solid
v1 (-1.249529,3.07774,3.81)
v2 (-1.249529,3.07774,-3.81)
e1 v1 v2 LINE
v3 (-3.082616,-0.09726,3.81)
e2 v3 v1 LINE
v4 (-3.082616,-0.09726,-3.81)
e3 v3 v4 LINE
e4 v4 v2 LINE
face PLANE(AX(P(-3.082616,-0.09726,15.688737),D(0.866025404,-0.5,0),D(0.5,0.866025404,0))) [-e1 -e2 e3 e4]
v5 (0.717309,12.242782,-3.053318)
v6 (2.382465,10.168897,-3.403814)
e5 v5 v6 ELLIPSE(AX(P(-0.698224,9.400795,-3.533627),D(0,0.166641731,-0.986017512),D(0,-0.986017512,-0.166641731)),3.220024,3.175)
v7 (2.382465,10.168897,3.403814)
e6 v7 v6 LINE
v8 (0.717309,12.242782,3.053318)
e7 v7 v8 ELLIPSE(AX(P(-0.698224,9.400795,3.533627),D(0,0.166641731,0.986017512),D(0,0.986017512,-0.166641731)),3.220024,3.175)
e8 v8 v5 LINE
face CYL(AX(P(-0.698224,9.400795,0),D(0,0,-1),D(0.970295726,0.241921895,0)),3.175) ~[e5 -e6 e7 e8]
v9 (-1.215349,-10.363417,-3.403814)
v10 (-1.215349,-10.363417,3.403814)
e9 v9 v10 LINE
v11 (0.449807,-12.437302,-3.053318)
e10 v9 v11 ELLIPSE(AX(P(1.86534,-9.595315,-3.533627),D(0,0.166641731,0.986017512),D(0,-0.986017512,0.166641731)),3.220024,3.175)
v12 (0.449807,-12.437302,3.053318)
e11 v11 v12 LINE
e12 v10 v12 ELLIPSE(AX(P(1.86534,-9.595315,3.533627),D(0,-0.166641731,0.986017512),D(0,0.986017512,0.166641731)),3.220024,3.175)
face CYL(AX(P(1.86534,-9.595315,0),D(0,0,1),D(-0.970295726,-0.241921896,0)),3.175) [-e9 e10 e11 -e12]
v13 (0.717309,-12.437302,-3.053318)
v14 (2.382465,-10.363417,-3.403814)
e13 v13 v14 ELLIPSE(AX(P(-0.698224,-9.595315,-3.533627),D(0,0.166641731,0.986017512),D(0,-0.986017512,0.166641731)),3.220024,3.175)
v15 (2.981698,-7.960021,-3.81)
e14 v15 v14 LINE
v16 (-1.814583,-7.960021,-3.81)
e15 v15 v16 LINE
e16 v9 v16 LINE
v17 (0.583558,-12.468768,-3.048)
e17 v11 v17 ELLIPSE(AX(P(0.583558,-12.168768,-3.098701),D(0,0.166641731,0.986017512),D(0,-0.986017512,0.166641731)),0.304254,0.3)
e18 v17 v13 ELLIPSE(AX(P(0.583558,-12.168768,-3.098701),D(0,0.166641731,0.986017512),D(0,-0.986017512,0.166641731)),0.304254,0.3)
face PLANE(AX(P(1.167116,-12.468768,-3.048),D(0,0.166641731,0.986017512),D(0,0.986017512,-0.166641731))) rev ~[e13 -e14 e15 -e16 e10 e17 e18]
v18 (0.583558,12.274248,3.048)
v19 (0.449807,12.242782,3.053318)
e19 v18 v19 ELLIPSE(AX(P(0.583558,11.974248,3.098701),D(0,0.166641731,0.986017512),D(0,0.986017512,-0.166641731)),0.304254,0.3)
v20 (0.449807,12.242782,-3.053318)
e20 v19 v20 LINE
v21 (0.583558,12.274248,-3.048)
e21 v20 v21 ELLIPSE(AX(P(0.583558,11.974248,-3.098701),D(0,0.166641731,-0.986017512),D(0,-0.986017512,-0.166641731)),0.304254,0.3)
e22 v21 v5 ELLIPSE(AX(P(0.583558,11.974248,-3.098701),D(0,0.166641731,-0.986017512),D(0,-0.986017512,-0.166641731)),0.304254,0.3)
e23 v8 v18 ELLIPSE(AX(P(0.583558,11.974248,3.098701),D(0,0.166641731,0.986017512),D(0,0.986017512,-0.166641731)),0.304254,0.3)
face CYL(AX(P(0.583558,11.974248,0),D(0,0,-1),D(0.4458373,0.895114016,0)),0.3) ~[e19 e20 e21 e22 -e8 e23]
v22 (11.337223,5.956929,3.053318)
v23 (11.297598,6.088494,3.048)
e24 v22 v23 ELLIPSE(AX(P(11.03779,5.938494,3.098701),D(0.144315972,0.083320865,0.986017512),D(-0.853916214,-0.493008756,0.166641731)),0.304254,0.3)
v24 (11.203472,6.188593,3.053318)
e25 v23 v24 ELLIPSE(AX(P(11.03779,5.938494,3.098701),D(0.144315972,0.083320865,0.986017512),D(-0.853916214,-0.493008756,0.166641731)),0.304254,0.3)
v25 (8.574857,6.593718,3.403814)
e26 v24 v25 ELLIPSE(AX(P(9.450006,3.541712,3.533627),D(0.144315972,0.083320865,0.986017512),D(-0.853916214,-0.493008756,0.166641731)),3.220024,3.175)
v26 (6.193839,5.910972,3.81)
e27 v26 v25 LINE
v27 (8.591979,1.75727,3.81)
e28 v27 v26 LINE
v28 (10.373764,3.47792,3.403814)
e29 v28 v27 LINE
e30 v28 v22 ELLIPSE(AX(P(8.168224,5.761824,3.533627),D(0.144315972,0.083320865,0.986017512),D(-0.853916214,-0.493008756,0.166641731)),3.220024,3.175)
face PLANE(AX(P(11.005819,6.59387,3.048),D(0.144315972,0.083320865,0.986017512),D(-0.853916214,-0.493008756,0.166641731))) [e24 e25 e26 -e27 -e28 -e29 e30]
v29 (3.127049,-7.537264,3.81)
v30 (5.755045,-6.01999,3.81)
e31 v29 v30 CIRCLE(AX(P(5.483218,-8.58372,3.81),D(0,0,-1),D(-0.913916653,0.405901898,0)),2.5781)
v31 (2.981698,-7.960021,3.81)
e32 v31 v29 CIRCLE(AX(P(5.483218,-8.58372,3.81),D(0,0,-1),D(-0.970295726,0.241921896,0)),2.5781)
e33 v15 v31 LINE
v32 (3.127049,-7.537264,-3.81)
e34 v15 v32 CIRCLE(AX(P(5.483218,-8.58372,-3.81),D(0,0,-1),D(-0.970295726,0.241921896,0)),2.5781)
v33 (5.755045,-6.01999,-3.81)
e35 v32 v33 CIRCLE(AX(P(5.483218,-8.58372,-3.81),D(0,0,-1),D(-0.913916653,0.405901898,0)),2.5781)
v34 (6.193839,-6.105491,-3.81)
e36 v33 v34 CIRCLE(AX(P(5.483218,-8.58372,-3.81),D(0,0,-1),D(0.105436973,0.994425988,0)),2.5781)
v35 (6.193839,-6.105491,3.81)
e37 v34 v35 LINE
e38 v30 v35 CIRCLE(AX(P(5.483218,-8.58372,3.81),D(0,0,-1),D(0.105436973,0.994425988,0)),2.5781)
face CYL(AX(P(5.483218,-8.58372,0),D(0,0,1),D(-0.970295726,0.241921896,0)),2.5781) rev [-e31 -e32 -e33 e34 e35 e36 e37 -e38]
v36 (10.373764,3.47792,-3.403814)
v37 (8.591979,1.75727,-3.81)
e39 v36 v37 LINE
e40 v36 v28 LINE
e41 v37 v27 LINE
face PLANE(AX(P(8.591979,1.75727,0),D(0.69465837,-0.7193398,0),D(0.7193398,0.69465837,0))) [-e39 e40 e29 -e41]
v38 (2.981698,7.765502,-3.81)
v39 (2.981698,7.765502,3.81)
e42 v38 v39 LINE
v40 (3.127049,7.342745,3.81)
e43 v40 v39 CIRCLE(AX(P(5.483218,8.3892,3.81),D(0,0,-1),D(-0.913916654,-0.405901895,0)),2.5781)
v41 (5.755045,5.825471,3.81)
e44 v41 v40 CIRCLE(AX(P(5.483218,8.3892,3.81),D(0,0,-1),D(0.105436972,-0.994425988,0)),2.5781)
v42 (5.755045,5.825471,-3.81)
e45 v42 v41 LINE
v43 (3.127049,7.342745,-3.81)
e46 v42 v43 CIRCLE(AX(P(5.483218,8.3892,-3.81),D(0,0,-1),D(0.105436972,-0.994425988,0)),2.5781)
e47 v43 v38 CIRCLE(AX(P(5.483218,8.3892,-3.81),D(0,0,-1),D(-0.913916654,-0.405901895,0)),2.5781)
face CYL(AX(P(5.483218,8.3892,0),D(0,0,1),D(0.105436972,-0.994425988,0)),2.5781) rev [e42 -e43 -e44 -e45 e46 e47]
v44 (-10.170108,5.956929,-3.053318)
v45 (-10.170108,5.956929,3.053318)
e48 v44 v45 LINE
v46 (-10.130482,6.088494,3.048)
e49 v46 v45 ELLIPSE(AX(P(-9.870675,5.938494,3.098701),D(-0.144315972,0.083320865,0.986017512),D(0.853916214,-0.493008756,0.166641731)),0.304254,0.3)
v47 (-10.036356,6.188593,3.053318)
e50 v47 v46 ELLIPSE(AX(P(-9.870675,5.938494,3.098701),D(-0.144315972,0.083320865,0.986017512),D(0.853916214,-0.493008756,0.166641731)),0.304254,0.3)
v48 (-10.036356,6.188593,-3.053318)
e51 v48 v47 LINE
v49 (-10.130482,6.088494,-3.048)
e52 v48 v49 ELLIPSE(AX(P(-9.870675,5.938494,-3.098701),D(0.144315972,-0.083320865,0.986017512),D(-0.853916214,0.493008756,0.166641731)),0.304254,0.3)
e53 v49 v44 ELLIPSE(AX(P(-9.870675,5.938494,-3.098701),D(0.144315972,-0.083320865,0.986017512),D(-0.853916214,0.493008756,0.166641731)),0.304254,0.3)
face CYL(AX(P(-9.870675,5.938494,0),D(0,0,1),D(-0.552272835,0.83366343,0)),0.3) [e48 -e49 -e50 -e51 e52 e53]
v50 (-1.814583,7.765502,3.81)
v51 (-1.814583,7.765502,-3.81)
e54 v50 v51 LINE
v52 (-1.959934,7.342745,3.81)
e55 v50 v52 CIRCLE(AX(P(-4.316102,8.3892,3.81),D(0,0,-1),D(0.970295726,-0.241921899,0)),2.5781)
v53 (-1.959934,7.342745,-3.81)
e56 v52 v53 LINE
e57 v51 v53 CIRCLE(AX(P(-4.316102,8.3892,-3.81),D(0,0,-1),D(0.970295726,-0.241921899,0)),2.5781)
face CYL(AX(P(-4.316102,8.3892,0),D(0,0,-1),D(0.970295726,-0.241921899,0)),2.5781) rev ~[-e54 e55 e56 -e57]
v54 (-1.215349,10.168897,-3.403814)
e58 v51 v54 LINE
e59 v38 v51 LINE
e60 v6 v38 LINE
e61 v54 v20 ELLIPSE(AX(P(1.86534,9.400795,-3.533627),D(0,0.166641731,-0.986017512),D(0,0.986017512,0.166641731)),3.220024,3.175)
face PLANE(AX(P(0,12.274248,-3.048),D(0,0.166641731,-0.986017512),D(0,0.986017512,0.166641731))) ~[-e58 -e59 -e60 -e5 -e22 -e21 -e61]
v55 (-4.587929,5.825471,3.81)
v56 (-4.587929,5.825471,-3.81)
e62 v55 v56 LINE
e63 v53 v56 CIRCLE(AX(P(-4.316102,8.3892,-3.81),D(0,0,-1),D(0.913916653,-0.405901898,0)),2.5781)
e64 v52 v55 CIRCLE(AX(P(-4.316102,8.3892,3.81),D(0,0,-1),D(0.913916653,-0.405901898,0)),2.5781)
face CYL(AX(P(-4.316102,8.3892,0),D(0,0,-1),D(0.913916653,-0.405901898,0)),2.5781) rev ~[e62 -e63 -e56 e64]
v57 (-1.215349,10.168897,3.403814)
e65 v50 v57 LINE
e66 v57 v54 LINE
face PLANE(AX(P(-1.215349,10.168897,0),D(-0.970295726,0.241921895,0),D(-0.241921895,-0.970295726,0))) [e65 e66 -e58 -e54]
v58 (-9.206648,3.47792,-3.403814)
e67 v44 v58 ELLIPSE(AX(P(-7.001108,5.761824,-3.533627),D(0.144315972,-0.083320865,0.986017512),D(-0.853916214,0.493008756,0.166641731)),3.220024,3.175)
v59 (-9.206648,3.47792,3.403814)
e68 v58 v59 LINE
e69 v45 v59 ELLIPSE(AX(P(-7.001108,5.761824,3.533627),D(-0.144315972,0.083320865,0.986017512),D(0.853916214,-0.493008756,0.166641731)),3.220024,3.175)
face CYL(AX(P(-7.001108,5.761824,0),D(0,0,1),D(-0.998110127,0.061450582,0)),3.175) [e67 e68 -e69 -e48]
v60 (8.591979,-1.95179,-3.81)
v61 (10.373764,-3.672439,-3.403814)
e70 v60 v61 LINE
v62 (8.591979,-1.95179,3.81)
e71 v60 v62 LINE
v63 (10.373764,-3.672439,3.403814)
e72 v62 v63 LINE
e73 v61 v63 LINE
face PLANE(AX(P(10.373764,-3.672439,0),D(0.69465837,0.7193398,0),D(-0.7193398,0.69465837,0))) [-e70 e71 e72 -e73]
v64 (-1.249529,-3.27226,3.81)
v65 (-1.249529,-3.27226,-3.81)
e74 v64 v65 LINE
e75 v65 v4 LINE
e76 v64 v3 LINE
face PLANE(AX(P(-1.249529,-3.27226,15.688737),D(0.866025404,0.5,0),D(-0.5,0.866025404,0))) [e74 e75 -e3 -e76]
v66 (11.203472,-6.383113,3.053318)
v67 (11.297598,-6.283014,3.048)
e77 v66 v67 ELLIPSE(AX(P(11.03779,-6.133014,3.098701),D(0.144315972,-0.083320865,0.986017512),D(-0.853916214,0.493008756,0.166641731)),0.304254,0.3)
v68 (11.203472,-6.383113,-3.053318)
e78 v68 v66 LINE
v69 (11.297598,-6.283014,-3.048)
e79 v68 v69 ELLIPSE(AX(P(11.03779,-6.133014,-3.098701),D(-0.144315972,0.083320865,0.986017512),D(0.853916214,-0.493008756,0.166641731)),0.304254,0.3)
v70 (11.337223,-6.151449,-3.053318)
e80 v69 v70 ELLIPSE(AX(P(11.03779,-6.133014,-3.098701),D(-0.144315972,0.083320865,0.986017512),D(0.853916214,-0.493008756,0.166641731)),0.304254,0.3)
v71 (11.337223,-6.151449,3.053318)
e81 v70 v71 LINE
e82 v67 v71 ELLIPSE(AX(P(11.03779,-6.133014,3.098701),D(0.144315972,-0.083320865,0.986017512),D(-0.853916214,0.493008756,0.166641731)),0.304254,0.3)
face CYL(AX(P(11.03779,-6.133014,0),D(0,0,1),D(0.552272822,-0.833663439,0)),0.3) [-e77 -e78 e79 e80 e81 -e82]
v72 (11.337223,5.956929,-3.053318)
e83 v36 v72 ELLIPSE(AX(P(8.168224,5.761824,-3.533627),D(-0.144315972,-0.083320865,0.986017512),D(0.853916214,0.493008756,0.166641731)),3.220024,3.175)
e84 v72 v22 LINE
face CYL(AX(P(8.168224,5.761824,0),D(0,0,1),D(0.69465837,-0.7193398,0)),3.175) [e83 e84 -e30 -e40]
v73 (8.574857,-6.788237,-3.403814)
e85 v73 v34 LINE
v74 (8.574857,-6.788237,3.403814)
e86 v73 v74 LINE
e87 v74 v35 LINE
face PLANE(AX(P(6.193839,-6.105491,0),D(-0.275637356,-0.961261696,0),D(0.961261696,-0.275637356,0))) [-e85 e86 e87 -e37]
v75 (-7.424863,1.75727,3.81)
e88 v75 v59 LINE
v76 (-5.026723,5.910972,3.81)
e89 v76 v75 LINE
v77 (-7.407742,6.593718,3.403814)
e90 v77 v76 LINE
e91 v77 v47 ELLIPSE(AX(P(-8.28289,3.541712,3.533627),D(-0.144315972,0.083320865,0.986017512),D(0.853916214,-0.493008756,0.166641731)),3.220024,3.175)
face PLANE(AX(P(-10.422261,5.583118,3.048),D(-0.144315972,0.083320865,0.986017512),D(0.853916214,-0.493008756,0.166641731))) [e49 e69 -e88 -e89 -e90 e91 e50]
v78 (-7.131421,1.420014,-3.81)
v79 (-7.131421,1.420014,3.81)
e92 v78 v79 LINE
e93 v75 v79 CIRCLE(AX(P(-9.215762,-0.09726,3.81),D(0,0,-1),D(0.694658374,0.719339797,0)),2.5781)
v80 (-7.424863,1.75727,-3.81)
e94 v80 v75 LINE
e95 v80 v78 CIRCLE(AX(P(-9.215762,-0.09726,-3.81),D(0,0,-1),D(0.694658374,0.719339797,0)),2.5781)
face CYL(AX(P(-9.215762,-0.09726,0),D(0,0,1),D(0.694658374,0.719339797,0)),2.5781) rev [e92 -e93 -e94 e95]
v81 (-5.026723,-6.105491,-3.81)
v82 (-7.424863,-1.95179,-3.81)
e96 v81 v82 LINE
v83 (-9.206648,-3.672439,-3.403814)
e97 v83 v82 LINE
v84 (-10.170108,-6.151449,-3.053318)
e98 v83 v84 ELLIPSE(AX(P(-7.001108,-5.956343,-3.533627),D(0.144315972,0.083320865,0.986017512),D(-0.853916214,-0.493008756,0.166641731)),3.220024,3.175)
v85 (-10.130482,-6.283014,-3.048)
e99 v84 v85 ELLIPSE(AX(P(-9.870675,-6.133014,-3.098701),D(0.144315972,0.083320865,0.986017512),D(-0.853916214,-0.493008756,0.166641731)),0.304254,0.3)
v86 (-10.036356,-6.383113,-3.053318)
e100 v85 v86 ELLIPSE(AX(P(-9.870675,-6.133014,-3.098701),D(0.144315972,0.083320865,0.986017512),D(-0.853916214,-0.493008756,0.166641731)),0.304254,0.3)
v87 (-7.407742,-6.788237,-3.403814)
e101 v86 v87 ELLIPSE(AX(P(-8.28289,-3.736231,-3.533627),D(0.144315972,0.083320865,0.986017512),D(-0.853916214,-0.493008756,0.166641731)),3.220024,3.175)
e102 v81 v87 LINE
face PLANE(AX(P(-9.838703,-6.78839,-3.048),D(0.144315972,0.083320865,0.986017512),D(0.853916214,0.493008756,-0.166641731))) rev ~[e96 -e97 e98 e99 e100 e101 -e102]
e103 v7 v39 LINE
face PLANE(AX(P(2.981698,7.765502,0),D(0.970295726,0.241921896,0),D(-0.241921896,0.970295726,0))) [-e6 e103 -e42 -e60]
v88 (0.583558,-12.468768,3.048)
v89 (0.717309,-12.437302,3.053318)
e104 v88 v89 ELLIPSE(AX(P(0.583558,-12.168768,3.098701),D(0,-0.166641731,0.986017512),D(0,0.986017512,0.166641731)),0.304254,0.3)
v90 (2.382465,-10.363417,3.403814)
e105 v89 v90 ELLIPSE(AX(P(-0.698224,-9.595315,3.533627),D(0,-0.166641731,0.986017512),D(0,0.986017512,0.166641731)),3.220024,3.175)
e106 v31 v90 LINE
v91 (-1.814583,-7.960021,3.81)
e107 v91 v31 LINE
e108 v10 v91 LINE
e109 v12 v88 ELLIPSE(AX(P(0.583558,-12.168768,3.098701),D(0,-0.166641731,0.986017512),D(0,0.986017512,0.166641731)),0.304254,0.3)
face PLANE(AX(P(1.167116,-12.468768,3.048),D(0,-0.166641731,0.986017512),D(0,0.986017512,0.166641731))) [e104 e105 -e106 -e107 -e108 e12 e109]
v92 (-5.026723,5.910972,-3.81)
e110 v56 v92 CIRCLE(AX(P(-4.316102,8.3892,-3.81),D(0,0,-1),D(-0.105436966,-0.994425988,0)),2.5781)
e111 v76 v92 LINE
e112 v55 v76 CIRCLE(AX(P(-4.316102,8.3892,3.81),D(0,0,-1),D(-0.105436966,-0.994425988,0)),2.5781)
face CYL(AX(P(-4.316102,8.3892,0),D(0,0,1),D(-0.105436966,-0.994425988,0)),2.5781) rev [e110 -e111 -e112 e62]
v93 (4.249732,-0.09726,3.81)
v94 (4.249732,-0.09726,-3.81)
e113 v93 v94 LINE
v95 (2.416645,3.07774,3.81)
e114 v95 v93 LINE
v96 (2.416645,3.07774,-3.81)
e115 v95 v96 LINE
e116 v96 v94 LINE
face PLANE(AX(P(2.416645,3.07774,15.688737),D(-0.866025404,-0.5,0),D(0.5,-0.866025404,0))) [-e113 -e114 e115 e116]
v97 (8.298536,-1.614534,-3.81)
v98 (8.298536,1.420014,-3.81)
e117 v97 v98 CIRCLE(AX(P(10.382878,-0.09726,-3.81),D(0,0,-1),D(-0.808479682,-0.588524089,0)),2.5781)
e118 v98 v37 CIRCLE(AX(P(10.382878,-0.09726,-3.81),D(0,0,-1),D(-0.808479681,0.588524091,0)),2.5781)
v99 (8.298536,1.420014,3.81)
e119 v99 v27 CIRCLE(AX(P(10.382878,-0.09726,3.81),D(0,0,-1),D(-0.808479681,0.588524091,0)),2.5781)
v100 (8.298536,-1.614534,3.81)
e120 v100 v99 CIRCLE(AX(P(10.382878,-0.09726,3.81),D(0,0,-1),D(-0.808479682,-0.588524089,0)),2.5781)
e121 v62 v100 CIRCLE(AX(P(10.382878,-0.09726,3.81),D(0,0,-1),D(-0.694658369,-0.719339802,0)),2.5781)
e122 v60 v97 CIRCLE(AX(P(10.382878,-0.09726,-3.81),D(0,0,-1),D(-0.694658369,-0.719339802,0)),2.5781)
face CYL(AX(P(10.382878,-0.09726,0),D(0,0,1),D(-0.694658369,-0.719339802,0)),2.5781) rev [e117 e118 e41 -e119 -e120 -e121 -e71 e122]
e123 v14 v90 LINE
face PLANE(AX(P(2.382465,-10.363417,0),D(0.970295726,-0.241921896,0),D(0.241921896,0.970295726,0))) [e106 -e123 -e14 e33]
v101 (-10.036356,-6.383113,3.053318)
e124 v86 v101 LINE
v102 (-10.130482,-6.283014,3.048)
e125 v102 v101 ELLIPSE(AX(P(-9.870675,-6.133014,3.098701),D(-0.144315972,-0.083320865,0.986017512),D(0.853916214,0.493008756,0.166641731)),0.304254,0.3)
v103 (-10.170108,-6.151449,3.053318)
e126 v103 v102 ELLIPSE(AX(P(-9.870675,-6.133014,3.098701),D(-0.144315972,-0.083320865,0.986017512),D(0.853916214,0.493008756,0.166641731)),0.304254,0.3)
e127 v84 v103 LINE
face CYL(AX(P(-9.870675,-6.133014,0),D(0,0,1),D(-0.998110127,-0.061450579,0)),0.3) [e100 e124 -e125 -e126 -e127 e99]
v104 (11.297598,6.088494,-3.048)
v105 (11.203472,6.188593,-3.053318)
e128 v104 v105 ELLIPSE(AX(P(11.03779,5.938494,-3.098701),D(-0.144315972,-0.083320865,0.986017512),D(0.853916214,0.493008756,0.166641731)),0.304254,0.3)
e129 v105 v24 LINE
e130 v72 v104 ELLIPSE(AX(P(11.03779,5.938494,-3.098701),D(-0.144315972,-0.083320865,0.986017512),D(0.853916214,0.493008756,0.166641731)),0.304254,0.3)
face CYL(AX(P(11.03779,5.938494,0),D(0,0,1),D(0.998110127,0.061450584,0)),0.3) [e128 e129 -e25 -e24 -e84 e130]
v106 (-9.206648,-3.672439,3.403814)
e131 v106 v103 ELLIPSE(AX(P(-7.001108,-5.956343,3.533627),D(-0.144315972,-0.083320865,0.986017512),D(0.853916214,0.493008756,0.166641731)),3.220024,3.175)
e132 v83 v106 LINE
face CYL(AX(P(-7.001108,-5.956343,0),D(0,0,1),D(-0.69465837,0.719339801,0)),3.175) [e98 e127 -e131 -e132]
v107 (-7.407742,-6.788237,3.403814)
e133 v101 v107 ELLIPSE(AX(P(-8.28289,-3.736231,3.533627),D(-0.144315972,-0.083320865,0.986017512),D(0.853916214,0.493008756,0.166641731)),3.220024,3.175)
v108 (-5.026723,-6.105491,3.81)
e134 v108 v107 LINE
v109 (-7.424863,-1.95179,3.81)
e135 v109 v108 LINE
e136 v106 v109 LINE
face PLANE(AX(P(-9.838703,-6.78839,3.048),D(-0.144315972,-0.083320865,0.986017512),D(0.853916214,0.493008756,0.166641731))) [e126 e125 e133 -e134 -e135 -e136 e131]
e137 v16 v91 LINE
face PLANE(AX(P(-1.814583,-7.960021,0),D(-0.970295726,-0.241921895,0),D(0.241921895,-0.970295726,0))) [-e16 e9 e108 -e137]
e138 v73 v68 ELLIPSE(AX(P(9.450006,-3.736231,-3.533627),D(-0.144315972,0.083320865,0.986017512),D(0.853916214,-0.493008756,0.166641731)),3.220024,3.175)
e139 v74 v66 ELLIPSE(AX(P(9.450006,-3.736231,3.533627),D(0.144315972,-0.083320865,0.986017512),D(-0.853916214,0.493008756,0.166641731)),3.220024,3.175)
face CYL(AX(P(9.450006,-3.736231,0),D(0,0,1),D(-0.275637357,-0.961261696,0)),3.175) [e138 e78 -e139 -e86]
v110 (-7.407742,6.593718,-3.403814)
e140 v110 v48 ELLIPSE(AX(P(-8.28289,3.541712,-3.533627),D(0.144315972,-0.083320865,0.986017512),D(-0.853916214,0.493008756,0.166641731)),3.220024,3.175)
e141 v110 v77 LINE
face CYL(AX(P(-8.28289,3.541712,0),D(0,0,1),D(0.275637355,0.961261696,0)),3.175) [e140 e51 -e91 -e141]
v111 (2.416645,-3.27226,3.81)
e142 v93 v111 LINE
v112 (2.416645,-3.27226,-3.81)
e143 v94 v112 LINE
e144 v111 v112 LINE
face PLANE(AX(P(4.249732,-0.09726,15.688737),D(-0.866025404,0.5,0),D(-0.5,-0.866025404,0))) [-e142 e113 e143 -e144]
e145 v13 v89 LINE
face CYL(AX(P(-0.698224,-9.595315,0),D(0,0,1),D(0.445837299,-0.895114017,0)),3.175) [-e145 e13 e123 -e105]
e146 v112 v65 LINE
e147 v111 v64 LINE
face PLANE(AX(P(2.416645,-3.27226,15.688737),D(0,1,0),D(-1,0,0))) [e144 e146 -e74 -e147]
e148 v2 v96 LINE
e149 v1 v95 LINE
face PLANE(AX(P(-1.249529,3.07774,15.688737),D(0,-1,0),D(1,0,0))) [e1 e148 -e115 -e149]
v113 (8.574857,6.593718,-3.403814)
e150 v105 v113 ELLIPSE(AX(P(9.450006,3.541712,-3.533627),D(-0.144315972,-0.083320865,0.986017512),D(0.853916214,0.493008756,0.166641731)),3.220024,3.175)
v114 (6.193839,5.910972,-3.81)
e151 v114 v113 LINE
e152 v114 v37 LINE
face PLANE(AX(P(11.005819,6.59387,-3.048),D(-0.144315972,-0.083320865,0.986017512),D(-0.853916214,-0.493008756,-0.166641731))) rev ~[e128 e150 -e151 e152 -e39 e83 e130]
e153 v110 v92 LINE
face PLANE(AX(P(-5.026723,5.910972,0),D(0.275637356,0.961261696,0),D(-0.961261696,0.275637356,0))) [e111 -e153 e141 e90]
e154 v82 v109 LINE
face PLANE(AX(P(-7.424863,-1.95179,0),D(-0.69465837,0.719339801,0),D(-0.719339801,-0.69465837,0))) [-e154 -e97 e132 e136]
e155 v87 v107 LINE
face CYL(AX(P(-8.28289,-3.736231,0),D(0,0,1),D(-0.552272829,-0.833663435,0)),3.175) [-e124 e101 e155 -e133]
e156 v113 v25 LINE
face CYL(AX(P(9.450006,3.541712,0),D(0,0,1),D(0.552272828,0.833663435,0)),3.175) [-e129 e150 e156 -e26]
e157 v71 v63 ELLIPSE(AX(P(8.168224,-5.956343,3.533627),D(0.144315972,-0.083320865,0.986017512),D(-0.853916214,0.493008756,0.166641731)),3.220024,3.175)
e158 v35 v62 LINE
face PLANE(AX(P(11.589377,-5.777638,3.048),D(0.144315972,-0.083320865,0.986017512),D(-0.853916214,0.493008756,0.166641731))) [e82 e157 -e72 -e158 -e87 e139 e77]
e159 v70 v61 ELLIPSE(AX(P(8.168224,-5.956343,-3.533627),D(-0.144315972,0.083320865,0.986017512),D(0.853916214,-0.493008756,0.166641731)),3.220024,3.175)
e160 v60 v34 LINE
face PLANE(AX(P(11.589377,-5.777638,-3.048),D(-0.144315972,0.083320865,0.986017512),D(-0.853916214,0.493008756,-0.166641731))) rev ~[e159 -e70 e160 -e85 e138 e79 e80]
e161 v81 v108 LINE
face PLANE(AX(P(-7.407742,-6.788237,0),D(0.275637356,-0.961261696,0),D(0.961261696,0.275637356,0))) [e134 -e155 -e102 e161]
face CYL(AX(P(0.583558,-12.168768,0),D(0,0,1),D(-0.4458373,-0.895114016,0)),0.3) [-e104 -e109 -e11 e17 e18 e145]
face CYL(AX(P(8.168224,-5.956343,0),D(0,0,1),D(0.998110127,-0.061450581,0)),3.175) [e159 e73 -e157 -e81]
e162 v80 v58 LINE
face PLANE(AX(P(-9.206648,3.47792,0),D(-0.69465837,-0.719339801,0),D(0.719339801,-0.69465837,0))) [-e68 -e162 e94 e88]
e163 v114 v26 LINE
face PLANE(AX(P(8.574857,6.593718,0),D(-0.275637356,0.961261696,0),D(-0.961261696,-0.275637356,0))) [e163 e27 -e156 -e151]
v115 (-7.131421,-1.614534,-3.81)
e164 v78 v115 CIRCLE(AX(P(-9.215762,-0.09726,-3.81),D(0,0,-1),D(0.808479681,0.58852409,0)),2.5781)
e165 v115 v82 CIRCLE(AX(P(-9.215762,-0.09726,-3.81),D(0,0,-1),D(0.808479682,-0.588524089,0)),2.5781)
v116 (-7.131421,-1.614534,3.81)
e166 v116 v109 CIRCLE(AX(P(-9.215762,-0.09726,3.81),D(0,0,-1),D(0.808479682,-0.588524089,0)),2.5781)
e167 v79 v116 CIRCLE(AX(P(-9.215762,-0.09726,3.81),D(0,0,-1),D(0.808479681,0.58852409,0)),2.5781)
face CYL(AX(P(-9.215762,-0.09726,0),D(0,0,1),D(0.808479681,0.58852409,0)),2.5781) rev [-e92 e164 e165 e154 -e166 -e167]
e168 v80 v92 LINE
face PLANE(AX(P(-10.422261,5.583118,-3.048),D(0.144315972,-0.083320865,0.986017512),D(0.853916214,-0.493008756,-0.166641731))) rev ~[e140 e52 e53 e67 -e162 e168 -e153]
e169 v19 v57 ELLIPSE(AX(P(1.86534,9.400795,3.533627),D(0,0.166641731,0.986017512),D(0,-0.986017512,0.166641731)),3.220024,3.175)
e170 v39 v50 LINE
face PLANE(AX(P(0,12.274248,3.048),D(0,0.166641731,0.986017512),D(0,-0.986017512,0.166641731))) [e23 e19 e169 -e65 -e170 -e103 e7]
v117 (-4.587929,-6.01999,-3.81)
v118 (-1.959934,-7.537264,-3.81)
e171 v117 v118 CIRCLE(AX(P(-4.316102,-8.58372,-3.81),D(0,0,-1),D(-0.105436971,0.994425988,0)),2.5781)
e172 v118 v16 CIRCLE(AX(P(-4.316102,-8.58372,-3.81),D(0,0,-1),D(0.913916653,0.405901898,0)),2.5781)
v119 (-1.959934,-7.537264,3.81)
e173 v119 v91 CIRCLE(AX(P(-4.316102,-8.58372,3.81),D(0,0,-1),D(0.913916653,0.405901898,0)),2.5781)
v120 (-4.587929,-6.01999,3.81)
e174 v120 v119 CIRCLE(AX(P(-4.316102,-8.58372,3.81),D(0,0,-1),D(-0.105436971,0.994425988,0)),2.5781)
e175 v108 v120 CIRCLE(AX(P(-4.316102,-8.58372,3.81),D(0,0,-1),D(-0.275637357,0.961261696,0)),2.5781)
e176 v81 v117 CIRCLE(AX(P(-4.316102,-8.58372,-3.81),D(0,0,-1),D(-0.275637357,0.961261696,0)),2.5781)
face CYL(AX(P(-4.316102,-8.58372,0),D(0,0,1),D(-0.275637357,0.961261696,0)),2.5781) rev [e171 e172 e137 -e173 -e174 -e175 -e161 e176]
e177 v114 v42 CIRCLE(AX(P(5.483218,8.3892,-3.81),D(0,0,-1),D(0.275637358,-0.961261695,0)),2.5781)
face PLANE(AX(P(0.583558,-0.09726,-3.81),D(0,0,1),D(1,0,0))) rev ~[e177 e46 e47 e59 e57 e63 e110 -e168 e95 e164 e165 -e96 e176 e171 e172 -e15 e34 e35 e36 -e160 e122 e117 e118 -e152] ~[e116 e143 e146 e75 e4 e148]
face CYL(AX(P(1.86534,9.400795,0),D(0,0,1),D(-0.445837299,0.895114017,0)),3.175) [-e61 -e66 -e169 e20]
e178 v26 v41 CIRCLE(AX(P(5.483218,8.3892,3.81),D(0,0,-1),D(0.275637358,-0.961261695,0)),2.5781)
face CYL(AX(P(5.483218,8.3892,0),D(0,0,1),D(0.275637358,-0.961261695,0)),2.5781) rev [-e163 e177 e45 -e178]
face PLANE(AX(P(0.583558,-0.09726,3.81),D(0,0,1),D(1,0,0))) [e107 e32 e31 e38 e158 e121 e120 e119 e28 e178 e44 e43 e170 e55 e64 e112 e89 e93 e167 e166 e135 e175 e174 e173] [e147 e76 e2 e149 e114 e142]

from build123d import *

# Parameters (mm, degrees)
BOSS_EXTRUDE1_DEPTH     = 3.81
CUT_EXTRUDE1_DEPTH      = 18.281637299
CIRPATTERN1_COUNT       = 6
MIRROR1_COPY_1_DEPTH    = 18.281637299
MIRROR1_COPY_2_DEPTH    = 18.281637299
MIRROR1_COPY_3_DEPTH    = 18.281637299
MIRROR1_COPY_4_DEPTH    = 18.281637299
MIRROR1_COPY_5_DEPTH    = 18.281637299
CUT_EXTRUDE2_DEPTH      = 19.498737463
CUT_EXTRUDE2_DEPTH_BACK = 19.498737463


with BuildPart() as part:
    # Sketch1 → Boss-Extrude1 (new, symmetric)
    with BuildSketch(Plane.XY):
        with BuildLine():
            Line((-5.026722801, 5.910971637), (-7.407741623, 6.593717798))
            ThreePointArc((-7.407741623, 6.593717798), (-8.766513969, 6.679662371), (-10.036356458, 6.18859332))
            ThreePointArc((-10.036356458, 6.18859332), (-10.13048223, 6.088494289), (-10.170107647, 5.956929464))
            ThreePointArc((-10.170107647, 5.956929464), (-9.960464677, 4.611679084), (-9.20664832, 3.477920001))
            Line((-9.20664832, 3.477920001), (-7.424863389, 1.757270295))
            ThreePointArc((-7.424863389, 1.757270295), (-7.270818157, 1.595014723), (-7.131420667, 1.420014312))
            ThreePointArc((-7.131420667, 1.420014312), (-6.637662134, -0.097259644), (-7.131420667, -1.6145336))
            ThreePointArc((-7.131420667, -1.6145336), (-7.270818157, -1.789534012), (-7.424863389, -1.951789584))
            Line((-7.424863389, -1.951789584), (-9.20664832, -3.67243929))
            ThreePointArc((-9.20664832, -3.67243929), (-9.960464677, -4.806198373), (-10.170107647, -6.151448752))
            ThreePointArc((-10.170107647, -6.151448752), (-10.13048223, -6.283013578), (-10.036356458, -6.383112608))
            ThreePointArc((-10.036356458, -6.383112608), (-8.766513969, -6.87418166), (-7.407741623, -6.788237086))
            Line((-7.407741623, -6.788237086), (-5.026722801, -6.105490926))
            ThreePointArc((-5.026722801, -6.105490926), (-4.809182738, -6.053211627), (-4.587929191, -6.019990065))
            ThreePointArc((-4.587929191, -6.019990065), (-3.027052134, -6.351019611), (-1.95993361, -7.537264021))
            ThreePointArc((-1.95993361, -7.537264021), (-1.878077553, -7.745485994), (-1.814582722, -7.960020865))
            Line((-1.814582722, -7.960020865), (-1.215348831, -10.363416732))
            ThreePointArc((-1.215348831, -10.363416732), (-0.610392842, -11.583120388), (0.449806676, -12.437301716))
            ThreePointArc((0.449806676, -12.437301716), (0.583557866, -12.468767511), (0.717309055, -12.437301716))
            ThreePointArc((0.717309055, -12.437301716), (1.777508573, -11.583120388), (2.382464562, -10.363416732))
            Line((2.382464562, -10.363416732), (2.981698454, -7.960020865))
            ThreePointArc((2.981698454, -7.960020865), (3.045193285, -7.745485994), (3.127049342, -7.537264021))
            ThreePointArc((3.127049342, -7.537264021), (4.194167866, -6.351019611), (5.755044922, -6.019990065))
            ThreePointArc((5.755044922, -6.019990065), (5.976298469, -6.053211627), (6.193838533, -6.105490926))
            Line((6.193838533, -6.105490926), (8.574857355, -6.788237086))
            ThreePointArc((8.574857355, -6.788237086), (9.933629701, -6.87418166), (11.203472189, -6.383112608))
            ThreePointArc((11.203472189, -6.383112608), (11.297597962, -6.283013578), (11.337223379, -6.151448752))
            ThreePointArc((11.337223379, -6.151448752), (11.127580408, -4.806198373), (10.373764051, -3.67243929))
            Line((10.373764051, -3.67243929), (8.591979121, -1.951789584))
            ThreePointArc((8.591979121, -1.951789584), (8.437933888, -1.789534012), (8.298536398, -1.6145336))
            ThreePointArc((8.298536398, -1.6145336), (7.804777866, -0.097259644), (8.298536398, 1.420014312))
            ThreePointArc((8.298536398, 1.420014312), (8.437933888, 1.595014723), (8.591979121, 1.757270295))
            Line((8.591979121, 1.757270295), (10.373764051, 3.477920001))
            ThreePointArc((10.373764051, 3.477920001), (11.127580408, 4.611679084), (11.337223379, 5.956929464))
            ThreePointArc((11.337223379, 5.956929464), (11.297597962, 6.088494289), (11.203472189, 6.18859332))
            ThreePointArc((11.203472189, 6.18859332), (9.933629701, 6.679662371), (8.574857355, 6.593717798))
            Line((8.574857355, 6.593717798), (6.193838533, 5.910971637))
            ThreePointArc((6.193838533, 5.910971637), (5.976298469, 5.858692338), (5.755044922, 5.825470777))
            ThreePointArc((5.755044922, 5.825470777), (4.194167866, 6.156500322), (3.127049342, 7.342744732))
            ThreePointArc((3.127049342, 7.342744732), (3.045193285, 7.550966706), (2.981698454, 7.765501576))
            Line((2.981698454, 7.765501576), (2.382464562, 10.168897443))
            ThreePointArc((2.382464562, 10.168897443), (1.777508573, 11.3886011), (0.717309055, 12.242782428))
            ThreePointArc((0.717309055, 12.242782428), (0.583557866, 12.274248223), (0.449806676, 12.242782428))
            ThreePointArc((0.449806676, 12.242782428), (-0.610392842, 11.3886011), (-1.215348831, 10.168897443))
            Line((-1.215348831, 10.168897443), (-1.814582722, 7.765501576))
            ThreePointArc((-1.814582722, 7.765501576), (-1.878077553, 7.550966706), (-1.95993361, 7.342744732))
            ThreePointArc((-1.95993361, 7.342744732), (-3.027052134, 6.156500322), (-4.587929191, 5.825470777))
            ThreePointArc((-4.587929191, 5.825470777), (-4.809182738, 5.858692338), (-5.026722801, 5.910971637))
        make_face()
    extrude(amount=BOSS_EXTRUDE1_DEPTH, both=True)

    # Sketch2 → Cut-Extrude1 (cut, symmetric)
    with BuildSketch(Plane(origin=(0, 0, 0), x_dir=(0, 0, -1), z_dir=(1, 0, 0))):
        Polygon((-3.048, 12.274248223), (-3.81, 7.765501576), (-3.81, 12.274248223), align=None)
    cut_extrude1 = extrude(amount=CUT_EXTRUDE1_DEPTH, both=True, mode=Mode.SUBTRACT)

    # CirPattern1: Cut-Extrude1 ×6 about axis
    cirpattern1_axis = Axis((0.583557866, -0.097259644, -4.191), (0, 0, 1))
    for i in range(1, CIRPATTERN1_COUNT):
        add(cut_extrude1.rotate(cirpattern1_axis, i * 360 / CIRPATTERN1_COUNT), mode=Mode.SUBTRACT)

    # Mirror1: Cut-Extrude1 across plane
    add(cut_extrude1.mirror(Plane.XY), mode=Mode.SUBTRACT)

    # Mirror1 copy 1 sketch → Mirror1 copy 1 (cut, symmetric)
    with BuildSketch(Plane(origin=(0.20754961, -0.554005758, 0), x_dir=(0, 0, 1), z_dir=(0.5000000000000001, 0.8660254037844386, 0))):
        Polygon((-3.048, -12.274248223), (-3.81, -7.765501576), (-3.81, -12.274248223), align=None)
    extrude(amount=MIRROR1_COPY_1_DEPTH, both=True, mode=Mode.SUBTRACT)

    # Mirror1 copy 2 sketch → Mirror1 copy 2 (cut, symmetric)
    with BuildSketch(Plane(origin=(0.791107476, -0.651265403, 0), x_dir=(0, 0, 1), z_dir=(-0.4999999999999998, 0.8660254037844387, 0))):
        Polygon((-3.048, -12.274248223), (-3.81, -7.765501576), (-3.81, -12.274248223), align=None)
    extrude(amount=MIRROR1_COPY_2_DEPTH, both=True, mode=Mode.SUBTRACT)

    # Mirror1 copy 3 sketch → Mirror1 copy 3 (cut, symmetric)
    with BuildSketch(Plane(origin=(1.167115731, -0.194519289, 0), x_dir=(0, 0, 1), z_dir=(-1, 0, 0))):
        Polygon((-3.048, -12.274248223), (-3.81, -7.765501576), (-3.81, -12.274248223), align=None)
    extrude(amount=MIRROR1_COPY_3_DEPTH, both=True, mode=Mode.SUBTRACT)

    # Mirror1 copy 4 sketch → Mirror1 copy 4 (cut, symmetric)
    with BuildSketch(Plane(origin=(0.959566121, 0.35948647, 0), x_dir=(0, 0, 1), z_dir=(-0.5000000000000004, -0.8660254037844384, 0))):
        Polygon((-3.048, -12.274248223), (-3.81, -7.765501576), (-3.81, -12.274248223), align=None)
    extrude(amount=MIRROR1_COPY_4_DEPTH, both=True, mode=Mode.SUBTRACT)

    # Mirror1 copy 5 sketch → Mirror1 copy 5 (cut, symmetric)
    with BuildSketch(Plane(origin=(0.376008256, 0.456746114, 0), x_dir=(0, 0, 1), z_dir=(0.5000000000000001, -0.8660254037844386, 0))):
        Polygon((-3.048, -12.274248223), (-3.81, -7.765501576), (-3.81, -12.274248223), align=None)
    extrude(amount=MIRROR1_COPY_5_DEPTH, both=True, mode=Mode.SUBTRACT)

    # Sketch3 → Cut-Extrude2 (cut, two sides: drawn at the far end of the back side and taken through both)
    with BuildSketch(Plane(origin=(0, 0, -3.81), x_dir=(-1, 0, 0), z_dir=(0, 0, -1)).offset(-CUT_EXTRUDE2_DEPTH_BACK)):
        Polygon((1.249529239, -3.272259644), (3.082616344, -0.097259644), (1.249529239, 3.077740356), (-2.41664497, 3.077740356), (-4.249732075, -0.097259644), (-2.41664497, -3.272259644), align=None)
    extrude(amount=CUT_EXTRUDE2_DEPTH + CUT_EXTRUDE2_DEPTH_BACK, mode=Mode.SUBTRACT)


solid = part.part
